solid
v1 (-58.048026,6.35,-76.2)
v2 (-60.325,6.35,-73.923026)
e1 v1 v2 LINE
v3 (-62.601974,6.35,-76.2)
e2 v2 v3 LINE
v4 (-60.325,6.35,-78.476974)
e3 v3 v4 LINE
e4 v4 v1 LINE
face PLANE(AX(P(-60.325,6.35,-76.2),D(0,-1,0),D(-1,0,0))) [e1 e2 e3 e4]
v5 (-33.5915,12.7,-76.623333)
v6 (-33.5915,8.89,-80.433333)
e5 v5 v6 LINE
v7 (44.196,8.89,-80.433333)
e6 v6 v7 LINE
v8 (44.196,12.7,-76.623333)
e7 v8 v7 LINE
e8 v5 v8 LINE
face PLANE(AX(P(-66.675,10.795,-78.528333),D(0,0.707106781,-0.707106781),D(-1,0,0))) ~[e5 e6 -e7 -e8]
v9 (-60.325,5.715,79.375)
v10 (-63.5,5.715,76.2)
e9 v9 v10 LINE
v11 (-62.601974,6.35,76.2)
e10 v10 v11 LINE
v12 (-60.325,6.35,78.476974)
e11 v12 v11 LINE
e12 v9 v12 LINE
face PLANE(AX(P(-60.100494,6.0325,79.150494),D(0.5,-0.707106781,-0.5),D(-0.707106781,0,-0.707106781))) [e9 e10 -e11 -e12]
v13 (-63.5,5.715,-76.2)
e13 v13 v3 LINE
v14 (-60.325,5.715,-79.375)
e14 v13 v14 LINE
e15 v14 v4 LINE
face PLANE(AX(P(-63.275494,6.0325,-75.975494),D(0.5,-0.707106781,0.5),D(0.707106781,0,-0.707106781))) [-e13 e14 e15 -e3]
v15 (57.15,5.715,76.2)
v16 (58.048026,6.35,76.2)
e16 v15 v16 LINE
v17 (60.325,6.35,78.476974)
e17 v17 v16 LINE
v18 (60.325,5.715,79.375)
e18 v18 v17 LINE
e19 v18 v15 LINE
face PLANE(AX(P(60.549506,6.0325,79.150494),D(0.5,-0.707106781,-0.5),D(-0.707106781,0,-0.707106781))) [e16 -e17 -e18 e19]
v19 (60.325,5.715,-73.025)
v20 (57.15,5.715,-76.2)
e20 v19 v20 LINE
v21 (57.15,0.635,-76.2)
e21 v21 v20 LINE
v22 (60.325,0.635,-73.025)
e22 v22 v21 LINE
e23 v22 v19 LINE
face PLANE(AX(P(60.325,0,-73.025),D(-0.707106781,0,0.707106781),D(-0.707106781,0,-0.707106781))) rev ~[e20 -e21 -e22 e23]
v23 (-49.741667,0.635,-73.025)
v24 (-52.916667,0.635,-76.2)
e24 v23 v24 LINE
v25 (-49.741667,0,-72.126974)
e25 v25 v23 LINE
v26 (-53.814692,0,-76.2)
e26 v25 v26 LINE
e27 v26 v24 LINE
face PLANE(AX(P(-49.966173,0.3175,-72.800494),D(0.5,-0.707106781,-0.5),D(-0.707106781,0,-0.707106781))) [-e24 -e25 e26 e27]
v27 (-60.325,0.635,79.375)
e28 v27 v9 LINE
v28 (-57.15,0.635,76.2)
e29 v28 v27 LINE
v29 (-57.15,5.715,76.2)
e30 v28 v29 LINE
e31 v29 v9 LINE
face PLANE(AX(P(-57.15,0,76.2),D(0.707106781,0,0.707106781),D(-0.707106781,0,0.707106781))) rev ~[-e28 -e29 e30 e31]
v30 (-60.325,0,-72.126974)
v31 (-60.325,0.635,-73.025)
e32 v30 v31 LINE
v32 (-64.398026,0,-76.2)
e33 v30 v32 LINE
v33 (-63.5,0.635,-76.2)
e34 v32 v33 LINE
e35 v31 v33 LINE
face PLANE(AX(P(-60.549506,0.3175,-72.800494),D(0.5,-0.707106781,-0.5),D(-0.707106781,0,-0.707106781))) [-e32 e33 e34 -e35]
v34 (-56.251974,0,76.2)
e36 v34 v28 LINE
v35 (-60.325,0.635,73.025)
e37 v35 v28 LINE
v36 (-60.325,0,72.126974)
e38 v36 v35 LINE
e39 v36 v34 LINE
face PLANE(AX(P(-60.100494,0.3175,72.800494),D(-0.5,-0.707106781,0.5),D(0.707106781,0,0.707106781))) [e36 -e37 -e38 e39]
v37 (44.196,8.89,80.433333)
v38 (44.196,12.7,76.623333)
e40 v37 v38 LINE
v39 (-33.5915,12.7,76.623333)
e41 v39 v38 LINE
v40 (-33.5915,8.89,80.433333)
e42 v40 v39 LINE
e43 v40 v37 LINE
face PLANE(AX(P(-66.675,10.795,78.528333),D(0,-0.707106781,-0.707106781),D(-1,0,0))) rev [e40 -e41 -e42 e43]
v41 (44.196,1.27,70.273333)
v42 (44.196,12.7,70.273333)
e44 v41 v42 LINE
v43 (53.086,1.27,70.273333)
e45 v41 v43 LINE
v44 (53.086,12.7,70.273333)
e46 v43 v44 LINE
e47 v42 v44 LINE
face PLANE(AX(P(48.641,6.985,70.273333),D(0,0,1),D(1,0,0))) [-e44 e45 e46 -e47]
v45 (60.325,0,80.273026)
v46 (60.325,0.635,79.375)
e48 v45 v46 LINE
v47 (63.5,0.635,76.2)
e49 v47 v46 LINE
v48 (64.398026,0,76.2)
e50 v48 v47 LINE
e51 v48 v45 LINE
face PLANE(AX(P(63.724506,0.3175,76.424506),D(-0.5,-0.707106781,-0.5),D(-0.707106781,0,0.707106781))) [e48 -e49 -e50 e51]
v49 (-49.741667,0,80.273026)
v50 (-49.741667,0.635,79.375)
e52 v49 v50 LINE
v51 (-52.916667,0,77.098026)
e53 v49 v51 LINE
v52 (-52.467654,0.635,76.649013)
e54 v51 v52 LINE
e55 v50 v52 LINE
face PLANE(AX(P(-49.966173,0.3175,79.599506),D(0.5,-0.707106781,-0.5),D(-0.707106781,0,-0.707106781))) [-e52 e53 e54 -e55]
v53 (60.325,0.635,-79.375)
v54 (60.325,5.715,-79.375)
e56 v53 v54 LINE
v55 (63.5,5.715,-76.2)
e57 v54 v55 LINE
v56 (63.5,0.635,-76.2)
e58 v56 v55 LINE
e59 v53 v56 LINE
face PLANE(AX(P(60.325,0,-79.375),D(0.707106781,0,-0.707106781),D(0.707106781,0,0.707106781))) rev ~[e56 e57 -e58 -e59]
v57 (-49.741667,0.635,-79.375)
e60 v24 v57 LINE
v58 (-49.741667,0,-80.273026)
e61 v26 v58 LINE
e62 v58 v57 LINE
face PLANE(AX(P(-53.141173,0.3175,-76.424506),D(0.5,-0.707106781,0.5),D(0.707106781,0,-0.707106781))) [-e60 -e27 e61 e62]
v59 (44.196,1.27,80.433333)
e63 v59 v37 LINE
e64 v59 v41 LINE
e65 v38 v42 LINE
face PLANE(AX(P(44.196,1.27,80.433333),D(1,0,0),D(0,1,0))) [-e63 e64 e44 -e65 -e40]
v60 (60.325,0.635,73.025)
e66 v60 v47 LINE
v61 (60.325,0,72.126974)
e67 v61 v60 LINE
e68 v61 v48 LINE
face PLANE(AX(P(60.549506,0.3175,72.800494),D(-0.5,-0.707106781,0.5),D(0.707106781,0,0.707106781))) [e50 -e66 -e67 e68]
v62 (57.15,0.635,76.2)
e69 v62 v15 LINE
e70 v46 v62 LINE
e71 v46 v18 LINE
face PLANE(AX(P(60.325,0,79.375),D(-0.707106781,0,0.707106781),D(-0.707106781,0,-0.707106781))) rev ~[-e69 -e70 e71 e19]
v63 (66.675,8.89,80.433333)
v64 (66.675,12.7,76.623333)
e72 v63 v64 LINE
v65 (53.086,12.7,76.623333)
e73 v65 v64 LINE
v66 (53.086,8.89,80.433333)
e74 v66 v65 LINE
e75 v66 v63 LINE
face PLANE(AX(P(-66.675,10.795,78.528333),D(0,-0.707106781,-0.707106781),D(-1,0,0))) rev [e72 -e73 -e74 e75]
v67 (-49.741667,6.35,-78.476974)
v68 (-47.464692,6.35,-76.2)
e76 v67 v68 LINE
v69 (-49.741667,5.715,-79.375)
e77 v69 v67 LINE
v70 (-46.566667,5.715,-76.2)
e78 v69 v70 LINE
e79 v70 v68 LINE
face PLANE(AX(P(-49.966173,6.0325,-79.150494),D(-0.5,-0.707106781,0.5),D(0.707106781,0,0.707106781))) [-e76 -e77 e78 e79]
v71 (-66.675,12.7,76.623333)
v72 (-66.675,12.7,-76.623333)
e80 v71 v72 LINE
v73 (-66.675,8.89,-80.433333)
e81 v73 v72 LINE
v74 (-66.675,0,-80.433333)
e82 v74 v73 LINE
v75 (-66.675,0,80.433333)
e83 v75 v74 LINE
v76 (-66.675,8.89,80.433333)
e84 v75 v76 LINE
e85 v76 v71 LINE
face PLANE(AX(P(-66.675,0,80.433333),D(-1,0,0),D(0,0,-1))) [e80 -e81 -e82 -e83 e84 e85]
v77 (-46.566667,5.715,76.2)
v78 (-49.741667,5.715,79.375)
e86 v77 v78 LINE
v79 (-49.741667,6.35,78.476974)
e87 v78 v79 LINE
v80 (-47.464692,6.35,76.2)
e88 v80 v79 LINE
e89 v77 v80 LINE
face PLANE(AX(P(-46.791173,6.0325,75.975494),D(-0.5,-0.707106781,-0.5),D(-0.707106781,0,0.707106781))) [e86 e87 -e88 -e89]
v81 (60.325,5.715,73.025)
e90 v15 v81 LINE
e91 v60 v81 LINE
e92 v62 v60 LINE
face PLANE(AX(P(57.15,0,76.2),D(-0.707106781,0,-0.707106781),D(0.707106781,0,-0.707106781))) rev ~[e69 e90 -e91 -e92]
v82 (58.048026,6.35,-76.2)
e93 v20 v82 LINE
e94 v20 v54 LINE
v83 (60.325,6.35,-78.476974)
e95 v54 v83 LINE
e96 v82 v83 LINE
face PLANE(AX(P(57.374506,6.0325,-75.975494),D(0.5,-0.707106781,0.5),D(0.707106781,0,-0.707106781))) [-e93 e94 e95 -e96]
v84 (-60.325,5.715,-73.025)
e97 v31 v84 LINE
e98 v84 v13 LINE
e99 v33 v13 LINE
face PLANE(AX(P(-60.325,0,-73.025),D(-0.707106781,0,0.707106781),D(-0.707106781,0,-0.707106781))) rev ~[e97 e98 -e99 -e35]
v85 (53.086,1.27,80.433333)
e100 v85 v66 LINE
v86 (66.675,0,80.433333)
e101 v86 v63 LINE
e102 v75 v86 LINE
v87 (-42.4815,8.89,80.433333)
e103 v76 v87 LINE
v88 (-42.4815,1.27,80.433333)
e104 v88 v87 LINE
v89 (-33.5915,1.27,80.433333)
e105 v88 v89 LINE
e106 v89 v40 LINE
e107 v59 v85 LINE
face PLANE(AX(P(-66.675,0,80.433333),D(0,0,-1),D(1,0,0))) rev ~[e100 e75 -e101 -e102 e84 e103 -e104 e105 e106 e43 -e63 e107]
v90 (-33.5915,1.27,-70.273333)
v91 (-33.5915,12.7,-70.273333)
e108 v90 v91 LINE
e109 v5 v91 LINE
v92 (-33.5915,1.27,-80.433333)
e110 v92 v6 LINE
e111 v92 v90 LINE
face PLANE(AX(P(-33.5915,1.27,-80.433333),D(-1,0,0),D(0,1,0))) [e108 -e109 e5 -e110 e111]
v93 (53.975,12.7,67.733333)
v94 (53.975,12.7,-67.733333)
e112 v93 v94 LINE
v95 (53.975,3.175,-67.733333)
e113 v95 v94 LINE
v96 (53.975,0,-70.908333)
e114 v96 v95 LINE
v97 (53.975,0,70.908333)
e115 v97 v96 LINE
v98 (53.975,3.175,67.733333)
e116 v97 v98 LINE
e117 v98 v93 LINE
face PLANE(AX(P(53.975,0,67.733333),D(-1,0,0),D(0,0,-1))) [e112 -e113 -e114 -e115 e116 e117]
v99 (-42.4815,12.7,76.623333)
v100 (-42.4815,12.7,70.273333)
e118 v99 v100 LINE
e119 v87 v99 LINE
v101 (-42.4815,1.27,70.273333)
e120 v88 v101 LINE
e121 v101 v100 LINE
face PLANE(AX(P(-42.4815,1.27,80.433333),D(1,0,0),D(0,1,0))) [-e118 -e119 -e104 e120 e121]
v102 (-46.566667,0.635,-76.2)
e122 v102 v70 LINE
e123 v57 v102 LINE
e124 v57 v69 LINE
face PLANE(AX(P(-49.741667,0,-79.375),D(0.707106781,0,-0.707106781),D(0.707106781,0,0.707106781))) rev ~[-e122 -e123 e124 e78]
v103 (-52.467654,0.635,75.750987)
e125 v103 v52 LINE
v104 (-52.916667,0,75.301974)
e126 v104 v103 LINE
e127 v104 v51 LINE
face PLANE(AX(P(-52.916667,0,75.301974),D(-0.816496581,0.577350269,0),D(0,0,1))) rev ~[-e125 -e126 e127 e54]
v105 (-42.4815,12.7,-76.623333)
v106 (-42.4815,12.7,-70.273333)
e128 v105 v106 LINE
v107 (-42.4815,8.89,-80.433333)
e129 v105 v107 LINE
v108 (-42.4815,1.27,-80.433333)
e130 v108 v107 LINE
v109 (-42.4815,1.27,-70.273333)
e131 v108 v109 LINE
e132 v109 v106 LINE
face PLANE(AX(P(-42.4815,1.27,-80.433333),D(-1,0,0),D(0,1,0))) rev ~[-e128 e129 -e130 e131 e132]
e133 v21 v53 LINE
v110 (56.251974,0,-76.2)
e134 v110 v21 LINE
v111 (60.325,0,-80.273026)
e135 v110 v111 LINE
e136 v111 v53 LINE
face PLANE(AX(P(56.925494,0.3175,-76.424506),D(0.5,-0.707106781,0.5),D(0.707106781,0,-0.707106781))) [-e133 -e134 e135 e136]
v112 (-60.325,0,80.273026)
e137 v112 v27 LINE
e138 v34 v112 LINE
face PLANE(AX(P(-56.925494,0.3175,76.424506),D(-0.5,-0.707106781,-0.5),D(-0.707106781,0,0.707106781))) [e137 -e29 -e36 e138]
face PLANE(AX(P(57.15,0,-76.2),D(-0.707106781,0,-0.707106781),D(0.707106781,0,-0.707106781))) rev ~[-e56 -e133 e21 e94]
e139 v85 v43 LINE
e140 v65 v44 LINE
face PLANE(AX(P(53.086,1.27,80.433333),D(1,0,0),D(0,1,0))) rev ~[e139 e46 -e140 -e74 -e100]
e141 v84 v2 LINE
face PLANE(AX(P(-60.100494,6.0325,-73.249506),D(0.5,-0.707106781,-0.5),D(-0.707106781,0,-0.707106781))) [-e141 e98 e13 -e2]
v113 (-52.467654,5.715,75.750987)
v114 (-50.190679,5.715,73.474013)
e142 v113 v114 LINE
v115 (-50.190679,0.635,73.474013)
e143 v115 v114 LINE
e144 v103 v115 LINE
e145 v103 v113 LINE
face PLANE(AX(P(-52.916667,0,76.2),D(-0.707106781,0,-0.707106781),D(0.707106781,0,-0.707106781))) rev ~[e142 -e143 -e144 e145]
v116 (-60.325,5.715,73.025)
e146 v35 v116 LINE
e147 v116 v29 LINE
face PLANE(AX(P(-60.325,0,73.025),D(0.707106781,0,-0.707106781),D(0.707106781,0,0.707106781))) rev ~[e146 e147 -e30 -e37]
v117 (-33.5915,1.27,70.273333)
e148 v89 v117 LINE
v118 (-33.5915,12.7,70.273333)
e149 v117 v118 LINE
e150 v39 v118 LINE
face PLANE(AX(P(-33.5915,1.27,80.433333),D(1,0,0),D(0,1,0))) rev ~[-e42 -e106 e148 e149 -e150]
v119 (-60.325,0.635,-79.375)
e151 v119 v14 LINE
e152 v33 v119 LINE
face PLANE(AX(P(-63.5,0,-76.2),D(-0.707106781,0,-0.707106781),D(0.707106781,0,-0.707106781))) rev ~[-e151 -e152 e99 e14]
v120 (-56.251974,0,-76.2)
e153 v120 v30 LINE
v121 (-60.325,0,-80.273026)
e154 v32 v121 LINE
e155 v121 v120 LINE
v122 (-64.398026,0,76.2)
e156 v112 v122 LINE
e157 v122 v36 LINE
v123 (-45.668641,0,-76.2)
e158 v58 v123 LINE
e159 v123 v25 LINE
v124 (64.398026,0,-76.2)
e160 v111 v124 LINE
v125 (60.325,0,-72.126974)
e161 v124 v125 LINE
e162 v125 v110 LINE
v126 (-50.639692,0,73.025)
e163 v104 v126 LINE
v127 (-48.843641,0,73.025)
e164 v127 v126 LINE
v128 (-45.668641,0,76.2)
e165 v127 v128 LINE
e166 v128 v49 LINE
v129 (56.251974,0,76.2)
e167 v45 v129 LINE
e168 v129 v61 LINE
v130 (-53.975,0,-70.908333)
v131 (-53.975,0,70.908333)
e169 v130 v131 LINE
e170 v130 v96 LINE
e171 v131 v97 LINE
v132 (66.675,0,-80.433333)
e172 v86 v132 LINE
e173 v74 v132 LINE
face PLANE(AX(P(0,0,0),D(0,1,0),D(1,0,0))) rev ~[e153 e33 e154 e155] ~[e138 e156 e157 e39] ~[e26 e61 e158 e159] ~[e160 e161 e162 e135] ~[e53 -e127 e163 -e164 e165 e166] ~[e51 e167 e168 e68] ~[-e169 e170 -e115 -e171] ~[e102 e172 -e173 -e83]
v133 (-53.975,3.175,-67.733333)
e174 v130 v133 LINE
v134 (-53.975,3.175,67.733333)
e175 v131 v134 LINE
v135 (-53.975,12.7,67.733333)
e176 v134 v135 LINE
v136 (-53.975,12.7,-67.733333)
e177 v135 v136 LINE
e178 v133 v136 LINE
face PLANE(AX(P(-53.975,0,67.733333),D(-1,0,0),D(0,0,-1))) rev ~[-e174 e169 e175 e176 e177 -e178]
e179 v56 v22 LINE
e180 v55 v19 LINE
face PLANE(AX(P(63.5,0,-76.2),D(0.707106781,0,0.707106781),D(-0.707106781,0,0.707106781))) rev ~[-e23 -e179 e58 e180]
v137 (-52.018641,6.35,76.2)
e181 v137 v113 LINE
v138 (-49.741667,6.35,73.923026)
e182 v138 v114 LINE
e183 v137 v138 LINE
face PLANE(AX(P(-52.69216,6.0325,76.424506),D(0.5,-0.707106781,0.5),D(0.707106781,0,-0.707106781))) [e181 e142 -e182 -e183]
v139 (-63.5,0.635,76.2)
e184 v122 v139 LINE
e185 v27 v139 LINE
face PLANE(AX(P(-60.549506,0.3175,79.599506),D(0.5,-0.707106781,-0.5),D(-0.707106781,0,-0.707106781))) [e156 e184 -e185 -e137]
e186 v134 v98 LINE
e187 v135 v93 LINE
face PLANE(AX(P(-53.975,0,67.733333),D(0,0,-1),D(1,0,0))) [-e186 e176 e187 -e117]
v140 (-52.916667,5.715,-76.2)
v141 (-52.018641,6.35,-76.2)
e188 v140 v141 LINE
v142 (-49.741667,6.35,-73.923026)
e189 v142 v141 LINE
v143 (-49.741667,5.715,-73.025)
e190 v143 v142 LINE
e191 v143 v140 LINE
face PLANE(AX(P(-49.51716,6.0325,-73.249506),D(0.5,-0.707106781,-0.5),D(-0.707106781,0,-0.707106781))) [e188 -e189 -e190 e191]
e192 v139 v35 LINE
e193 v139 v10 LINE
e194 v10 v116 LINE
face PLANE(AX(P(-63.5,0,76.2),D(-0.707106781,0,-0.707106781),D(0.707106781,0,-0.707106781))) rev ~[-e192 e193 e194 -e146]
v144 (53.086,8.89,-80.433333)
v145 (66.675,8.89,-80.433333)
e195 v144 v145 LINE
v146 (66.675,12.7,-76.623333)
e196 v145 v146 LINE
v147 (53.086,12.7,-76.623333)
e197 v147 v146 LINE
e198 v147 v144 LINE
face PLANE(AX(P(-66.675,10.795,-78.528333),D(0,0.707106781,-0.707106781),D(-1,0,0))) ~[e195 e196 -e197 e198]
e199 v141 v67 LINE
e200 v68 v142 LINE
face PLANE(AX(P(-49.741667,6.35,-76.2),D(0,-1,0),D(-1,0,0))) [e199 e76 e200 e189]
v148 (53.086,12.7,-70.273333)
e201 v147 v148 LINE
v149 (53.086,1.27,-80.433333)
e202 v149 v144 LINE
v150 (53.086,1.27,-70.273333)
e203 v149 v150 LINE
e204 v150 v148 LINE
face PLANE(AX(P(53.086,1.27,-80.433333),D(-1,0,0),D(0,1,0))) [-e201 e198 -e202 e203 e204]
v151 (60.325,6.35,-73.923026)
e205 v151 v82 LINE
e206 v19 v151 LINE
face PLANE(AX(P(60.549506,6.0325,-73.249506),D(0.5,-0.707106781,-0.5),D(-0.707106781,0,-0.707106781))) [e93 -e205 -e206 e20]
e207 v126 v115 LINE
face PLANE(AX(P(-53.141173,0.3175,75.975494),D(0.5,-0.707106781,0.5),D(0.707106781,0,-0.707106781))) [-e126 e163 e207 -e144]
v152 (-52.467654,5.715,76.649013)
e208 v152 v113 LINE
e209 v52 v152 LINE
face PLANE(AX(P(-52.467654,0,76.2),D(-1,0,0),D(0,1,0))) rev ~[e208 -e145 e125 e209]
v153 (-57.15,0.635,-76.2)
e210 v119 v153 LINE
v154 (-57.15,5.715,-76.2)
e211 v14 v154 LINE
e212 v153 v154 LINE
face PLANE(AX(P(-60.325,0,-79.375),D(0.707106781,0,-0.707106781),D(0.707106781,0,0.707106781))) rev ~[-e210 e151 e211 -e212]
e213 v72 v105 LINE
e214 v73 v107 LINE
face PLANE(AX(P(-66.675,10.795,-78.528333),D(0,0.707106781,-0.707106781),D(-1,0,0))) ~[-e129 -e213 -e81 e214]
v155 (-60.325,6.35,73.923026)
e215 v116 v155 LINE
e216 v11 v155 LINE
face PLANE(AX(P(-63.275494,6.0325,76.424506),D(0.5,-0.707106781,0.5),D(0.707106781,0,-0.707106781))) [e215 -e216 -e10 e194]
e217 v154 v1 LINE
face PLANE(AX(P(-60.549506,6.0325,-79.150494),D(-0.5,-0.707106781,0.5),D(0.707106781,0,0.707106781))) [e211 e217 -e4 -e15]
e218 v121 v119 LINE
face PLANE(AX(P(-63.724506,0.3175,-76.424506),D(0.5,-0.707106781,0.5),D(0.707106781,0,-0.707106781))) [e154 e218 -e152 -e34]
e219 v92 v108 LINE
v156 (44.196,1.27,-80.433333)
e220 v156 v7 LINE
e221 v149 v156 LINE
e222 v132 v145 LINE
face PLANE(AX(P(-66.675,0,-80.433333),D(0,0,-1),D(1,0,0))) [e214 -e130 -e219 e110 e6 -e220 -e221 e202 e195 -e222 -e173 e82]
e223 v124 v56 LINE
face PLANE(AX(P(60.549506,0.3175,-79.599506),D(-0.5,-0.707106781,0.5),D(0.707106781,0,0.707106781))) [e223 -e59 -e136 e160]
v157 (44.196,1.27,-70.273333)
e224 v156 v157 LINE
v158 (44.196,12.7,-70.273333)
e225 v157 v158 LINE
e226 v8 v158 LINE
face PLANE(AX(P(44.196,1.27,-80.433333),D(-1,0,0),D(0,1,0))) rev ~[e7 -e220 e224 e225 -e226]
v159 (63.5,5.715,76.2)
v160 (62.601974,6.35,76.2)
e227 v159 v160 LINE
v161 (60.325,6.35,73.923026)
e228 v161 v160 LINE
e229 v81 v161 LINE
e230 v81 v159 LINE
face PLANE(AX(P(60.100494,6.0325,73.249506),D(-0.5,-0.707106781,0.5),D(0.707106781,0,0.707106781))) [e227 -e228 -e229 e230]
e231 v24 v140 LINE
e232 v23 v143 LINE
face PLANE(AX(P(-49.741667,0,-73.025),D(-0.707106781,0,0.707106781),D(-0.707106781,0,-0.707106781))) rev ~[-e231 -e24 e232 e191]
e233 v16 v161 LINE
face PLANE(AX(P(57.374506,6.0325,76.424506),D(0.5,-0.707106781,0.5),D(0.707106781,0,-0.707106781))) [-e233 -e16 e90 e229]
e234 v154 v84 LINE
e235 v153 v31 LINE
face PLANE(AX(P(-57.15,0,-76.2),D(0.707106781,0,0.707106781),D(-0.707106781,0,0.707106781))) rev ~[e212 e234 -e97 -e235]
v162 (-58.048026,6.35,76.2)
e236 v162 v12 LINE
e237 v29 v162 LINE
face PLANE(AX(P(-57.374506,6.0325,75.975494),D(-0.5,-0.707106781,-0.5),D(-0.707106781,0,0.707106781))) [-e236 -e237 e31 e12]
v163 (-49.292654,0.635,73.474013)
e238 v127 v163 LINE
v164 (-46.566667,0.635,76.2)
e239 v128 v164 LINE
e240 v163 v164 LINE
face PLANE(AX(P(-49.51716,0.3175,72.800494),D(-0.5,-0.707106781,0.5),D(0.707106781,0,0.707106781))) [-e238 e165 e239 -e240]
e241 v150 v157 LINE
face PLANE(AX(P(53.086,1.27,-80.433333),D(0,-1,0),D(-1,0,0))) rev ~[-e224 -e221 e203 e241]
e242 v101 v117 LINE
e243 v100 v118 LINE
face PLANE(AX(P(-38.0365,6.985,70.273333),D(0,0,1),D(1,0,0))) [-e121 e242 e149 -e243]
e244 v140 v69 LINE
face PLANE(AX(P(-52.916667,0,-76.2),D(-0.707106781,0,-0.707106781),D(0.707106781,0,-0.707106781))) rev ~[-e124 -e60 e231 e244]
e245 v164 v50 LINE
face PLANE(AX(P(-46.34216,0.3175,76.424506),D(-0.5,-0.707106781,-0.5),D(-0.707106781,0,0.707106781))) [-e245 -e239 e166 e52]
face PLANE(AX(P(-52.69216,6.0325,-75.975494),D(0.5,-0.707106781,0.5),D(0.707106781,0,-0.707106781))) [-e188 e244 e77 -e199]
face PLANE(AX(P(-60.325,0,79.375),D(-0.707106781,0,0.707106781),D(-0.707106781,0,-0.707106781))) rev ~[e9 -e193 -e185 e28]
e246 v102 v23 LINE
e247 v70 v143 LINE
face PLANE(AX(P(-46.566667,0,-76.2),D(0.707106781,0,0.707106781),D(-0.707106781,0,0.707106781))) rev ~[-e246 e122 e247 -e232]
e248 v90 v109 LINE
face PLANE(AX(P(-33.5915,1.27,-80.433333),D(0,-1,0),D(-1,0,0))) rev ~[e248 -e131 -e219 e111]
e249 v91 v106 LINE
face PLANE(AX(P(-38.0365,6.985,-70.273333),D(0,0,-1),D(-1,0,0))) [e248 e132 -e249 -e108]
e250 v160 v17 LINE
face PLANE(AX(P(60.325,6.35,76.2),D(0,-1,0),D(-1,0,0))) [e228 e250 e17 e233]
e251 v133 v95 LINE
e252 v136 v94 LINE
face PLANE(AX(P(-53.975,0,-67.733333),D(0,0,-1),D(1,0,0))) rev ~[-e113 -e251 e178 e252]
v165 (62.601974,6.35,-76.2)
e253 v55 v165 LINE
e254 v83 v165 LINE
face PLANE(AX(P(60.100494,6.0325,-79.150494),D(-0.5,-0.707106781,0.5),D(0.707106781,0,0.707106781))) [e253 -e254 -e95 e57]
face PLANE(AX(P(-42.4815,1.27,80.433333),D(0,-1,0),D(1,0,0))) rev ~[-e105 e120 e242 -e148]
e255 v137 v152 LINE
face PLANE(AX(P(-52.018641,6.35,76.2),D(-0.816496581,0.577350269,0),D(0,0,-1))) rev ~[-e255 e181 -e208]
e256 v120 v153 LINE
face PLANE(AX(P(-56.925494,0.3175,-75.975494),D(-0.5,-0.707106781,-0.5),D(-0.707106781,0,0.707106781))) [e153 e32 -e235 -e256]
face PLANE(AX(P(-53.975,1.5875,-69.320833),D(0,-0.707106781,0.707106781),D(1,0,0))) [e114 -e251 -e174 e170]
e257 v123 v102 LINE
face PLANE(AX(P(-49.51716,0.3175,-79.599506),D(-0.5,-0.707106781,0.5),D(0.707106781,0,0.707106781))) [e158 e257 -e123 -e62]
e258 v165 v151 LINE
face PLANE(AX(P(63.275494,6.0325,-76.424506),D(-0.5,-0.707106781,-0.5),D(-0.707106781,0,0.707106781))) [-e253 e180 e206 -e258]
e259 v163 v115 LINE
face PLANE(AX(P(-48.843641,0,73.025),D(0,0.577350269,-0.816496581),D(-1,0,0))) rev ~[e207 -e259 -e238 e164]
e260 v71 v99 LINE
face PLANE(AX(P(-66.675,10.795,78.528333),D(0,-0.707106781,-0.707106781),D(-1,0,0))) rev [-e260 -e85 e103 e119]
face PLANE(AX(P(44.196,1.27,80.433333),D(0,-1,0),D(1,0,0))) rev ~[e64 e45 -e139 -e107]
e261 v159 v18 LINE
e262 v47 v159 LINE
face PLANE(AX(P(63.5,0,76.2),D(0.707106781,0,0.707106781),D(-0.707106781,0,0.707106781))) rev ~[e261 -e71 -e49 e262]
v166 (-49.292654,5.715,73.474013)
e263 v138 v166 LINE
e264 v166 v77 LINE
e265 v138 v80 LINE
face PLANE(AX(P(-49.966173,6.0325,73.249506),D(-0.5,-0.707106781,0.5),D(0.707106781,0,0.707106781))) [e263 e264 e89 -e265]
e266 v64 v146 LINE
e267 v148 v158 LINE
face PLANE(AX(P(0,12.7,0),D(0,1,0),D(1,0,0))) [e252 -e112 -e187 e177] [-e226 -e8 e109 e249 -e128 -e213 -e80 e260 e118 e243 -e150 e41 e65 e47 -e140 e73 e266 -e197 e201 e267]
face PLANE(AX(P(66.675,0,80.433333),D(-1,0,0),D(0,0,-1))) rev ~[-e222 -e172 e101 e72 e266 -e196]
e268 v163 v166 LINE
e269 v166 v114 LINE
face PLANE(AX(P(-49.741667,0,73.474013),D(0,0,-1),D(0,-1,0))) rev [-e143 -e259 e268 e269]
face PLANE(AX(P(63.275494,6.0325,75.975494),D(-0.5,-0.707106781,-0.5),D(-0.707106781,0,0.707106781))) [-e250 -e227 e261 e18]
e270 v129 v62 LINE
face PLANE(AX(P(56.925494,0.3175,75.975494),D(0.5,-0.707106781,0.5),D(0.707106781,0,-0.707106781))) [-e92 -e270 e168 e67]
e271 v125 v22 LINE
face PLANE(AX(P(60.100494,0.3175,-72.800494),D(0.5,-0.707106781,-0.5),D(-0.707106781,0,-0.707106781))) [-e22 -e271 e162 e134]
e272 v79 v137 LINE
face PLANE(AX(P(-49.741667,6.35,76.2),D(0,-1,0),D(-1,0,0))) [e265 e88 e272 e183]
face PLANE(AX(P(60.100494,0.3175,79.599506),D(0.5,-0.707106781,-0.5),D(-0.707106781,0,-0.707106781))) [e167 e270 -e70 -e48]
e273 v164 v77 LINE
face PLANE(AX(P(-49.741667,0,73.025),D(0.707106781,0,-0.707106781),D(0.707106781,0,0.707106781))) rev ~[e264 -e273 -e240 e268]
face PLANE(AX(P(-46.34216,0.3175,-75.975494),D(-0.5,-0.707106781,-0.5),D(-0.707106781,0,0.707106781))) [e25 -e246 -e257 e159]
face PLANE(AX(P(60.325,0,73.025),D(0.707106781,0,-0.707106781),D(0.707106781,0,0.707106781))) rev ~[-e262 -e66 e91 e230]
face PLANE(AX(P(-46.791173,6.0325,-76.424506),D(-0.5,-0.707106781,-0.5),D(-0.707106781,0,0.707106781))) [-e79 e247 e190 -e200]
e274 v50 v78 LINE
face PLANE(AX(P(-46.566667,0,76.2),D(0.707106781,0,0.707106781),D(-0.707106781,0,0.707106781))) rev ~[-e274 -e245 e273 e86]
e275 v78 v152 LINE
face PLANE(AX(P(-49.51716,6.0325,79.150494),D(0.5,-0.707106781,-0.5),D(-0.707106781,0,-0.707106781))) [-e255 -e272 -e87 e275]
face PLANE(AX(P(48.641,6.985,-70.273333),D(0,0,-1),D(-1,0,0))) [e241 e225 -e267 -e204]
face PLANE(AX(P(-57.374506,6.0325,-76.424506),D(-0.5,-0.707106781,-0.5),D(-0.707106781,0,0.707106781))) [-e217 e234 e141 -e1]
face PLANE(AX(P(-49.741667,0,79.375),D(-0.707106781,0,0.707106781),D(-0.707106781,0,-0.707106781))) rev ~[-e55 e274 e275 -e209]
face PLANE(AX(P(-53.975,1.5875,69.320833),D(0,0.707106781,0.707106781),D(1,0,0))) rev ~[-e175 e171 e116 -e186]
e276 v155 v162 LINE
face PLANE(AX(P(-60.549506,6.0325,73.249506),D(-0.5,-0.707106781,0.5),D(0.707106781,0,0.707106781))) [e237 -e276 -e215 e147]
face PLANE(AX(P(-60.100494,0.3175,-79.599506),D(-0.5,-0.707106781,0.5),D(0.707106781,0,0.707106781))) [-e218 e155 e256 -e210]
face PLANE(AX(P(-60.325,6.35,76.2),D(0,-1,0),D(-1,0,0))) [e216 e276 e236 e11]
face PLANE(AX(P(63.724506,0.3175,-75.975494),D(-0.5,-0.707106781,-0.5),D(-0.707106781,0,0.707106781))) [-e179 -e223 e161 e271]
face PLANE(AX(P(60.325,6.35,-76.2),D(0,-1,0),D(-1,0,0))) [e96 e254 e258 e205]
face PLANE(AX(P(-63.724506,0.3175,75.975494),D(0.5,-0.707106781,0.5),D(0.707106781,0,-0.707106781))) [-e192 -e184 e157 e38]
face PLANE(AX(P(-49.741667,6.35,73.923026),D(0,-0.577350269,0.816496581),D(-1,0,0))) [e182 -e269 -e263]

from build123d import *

# Parameters (mm, degrees)
SKETCH2_W           = 133.35
SKETCH2_H           = 160.866666666
SKETCH2_W_2         = 107.95
SKETCH2_H_2         = 135.466666666
BOSS_EXTRUDE1_DEPTH = 12.7
CUT_EXTRUDE1_DEPTH  = 6.35
CHAMFER1_SIZE       = 0.635
CHAMFER3_SIZE       = 3.81
SKETCH5_W           = 8.89
SKETCH5_H           = 11.43
CUT_EXTRUDE2_DEPTH  = 10.16
SKETCH6_W           = 8.89
SKETCH6_H           = 11.43
CUT_EXTRUDE3_DEPTH  = 10.16
CHAMFER4_SIZE       = 3.175


with BuildPart() as part:
    # Sketch2 → Boss-Extrude1 (new body)
    with BuildSketch(Plane(origin=(0, 0, 0), x_dir=(1, 0, 0), z_dir=(0, 1, 0))):
        Rectangle(SKETCH2_W, SKETCH2_H)
        Rectangle(SKETCH2_W_2, SKETCH2_H_2, mode=Mode.SUBTRACT)
    extrude(amount=BOSS_EXTRUDE1_DEPTH)

    # Sketch4 → Cut-Extrude1 (cut)
    with BuildSketch(Plane(origin=(0, 0, 0), x_dir=(1, 0, 0), z_dir=(0, 1, 0))):
        Polygon((-63.5, 76.2), (-60.325, 79.375), (-57.15, 76.2), (-60.325, 73.025), align=None)
        Polygon((-52.916666667, 76.2), (-49.741666667, 79.375), (-46.566666667, 76.2), (-49.741666667, 73.025), align=None)
        Polygon((57.15, 76.2), (60.325, 79.375), (63.5, 76.2), (60.325, 73.025), align=None)
        Polygon((57.15, -76.2), (60.325, -73.025), (63.5, -76.2), (60.325, -79.375), align=None)
        Polygon((-52.916666667, -76.2), (-49.741666667, -73.025), (-46.566666667, -76.2), (-49.741666667, -79.375), align=None)
        Polygon((-63.5, -76.2), (-60.325, -73.025), (-57.15, -76.2), (-60.325, -79.375), align=None)
    extrude(amount=CUT_EXTRUDE1_DEPTH, mode=Mode.SUBTRACT)

    # Chamfer1
    chamfer1_edges = [part.edges().sort_by_distance(p)[0] for p in [
        (-61.9125, 0, 77.7875),
        (-58.7375, 0, 77.7875),
        (-58.7375, 0, 74.6125),
        (-61.9125, 0, 74.6125),
        (-61.9125, 6.35, 77.7875),
        (-58.7375, 6.35, 77.7875),
        (-58.7375, 6.35, 74.6125),
        (-61.9125, 6.35, 74.6125),
        (-51.329166667, 0, 77.7875),
        (-52.916666667, 3.175, 76.2),
        (-48.154166667, 0, 77.7875),
        (-48.154166667, 0, 74.6125),
        (-51.329166667, 0, 74.6125),
        (-49.741666667, 3.175, 73.025),
        (-51.329166667, 6.35, 77.7875),
        (-48.154166667, 6.35, 77.7875),
        (-48.154166667, 6.35, 74.6125),
        (-51.329166667, 6.35, 74.6125),
        (58.7375, 0, 77.7875),
        (61.9125, 0, 77.7875),
        (61.9125, 0, 74.6125),
        (58.7375, 0, 74.6125),
        (58.7375, 6.35, 77.7875),
        (61.9125, 6.35, 77.7875),
        (61.9125, 6.35, 74.6125),
        (58.7375, 6.35, 74.6125),
        (58.7375, 0, -74.6125),
        (61.9125, 0, -74.6125),
        (61.9125, 0, -77.7875),
        (58.7375, 0, -77.7875),
        (58.7375, 6.35, -74.6125),
        (61.9125, 6.35, -74.6125),
        (61.9125, 6.35, -77.7875),
        (58.7375, 6.35, -77.7875),
        (-51.329166667, 0, -74.6125),
        (-48.154166667, 0, -74.6125),
        (-48.154166667, 0, -77.7875),
        (-51.329166667, 0, -77.7875),
        (-51.329166667, 6.35, -74.6125),
        (-48.154166667, 6.35, -74.6125),
        (-48.154166667, 6.35, -77.7875),
        (-51.329166667, 6.35, -77.7875),
        (-61.9125, 0, -74.6125),
        (-58.7375, 0, -74.6125),
        (-58.7375, 0, -77.7875),
        (-61.9125, 0, -77.7875),
        (-61.9125, 6.35, -74.6125),
        (-58.7375, 6.35, -74.6125),
        (-58.7375, 6.35, -77.7875),
        (-61.9125, 6.35, -77.7875),
    ]]
    chamfer(chamfer1_edges, length=CHAMFER1_SIZE)

    # Chamfer3
    chamfer3_edges = [part.edges().sort_by_distance(p)[0] for p in [
        (0, 12.7, -80.433333333),
        (0, 12.7, 80.433333333),
    ]]
    chamfer(chamfer3_edges, length=CHAMFER3_SIZE)

    # Sketch5 → Cut-Extrude2 (cut)
    with BuildSketch(Plane.XY.offset(80.433333333)):
        with Locations((-38.0365, 6.985)):
            Rectangle(SKETCH5_W, SKETCH5_H)
        with Locations((48.641, 6.985)):
            Rectangle(SKETCH5_W, SKETCH5_H)
    extrude(amount=-CUT_EXTRUDE2_DEPTH, mode=Mode.SUBTRACT)

    # Sketch6 → Cut-Extrude3 (cut)
    with BuildSketch(Plane(origin=(0, 0, -80.433333333), x_dir=(-1, 0, 0), z_dir=(0, 0, -1))):
        with Locations((38.0365, 6.985)):
            Rectangle(SKETCH6_W, SKETCH6_H)
        with Locations((-48.641, 6.985)):
            Rectangle(SKETCH6_W, SKETCH6_H)
    extrude(amount=-CUT_EXTRUDE3_DEPTH, mode=Mode.SUBTRACT)

    # Chamfer4
    chamfer4_edges = [part.edges().sort_by_distance(p)[0] for p in [
        (0, 0, -67.733333333),
        (0, 0, 67.733333333),
    ]]
    chamfer(chamfer4_edges, length=CHAMFER4_SIZE)


solid = part.part
